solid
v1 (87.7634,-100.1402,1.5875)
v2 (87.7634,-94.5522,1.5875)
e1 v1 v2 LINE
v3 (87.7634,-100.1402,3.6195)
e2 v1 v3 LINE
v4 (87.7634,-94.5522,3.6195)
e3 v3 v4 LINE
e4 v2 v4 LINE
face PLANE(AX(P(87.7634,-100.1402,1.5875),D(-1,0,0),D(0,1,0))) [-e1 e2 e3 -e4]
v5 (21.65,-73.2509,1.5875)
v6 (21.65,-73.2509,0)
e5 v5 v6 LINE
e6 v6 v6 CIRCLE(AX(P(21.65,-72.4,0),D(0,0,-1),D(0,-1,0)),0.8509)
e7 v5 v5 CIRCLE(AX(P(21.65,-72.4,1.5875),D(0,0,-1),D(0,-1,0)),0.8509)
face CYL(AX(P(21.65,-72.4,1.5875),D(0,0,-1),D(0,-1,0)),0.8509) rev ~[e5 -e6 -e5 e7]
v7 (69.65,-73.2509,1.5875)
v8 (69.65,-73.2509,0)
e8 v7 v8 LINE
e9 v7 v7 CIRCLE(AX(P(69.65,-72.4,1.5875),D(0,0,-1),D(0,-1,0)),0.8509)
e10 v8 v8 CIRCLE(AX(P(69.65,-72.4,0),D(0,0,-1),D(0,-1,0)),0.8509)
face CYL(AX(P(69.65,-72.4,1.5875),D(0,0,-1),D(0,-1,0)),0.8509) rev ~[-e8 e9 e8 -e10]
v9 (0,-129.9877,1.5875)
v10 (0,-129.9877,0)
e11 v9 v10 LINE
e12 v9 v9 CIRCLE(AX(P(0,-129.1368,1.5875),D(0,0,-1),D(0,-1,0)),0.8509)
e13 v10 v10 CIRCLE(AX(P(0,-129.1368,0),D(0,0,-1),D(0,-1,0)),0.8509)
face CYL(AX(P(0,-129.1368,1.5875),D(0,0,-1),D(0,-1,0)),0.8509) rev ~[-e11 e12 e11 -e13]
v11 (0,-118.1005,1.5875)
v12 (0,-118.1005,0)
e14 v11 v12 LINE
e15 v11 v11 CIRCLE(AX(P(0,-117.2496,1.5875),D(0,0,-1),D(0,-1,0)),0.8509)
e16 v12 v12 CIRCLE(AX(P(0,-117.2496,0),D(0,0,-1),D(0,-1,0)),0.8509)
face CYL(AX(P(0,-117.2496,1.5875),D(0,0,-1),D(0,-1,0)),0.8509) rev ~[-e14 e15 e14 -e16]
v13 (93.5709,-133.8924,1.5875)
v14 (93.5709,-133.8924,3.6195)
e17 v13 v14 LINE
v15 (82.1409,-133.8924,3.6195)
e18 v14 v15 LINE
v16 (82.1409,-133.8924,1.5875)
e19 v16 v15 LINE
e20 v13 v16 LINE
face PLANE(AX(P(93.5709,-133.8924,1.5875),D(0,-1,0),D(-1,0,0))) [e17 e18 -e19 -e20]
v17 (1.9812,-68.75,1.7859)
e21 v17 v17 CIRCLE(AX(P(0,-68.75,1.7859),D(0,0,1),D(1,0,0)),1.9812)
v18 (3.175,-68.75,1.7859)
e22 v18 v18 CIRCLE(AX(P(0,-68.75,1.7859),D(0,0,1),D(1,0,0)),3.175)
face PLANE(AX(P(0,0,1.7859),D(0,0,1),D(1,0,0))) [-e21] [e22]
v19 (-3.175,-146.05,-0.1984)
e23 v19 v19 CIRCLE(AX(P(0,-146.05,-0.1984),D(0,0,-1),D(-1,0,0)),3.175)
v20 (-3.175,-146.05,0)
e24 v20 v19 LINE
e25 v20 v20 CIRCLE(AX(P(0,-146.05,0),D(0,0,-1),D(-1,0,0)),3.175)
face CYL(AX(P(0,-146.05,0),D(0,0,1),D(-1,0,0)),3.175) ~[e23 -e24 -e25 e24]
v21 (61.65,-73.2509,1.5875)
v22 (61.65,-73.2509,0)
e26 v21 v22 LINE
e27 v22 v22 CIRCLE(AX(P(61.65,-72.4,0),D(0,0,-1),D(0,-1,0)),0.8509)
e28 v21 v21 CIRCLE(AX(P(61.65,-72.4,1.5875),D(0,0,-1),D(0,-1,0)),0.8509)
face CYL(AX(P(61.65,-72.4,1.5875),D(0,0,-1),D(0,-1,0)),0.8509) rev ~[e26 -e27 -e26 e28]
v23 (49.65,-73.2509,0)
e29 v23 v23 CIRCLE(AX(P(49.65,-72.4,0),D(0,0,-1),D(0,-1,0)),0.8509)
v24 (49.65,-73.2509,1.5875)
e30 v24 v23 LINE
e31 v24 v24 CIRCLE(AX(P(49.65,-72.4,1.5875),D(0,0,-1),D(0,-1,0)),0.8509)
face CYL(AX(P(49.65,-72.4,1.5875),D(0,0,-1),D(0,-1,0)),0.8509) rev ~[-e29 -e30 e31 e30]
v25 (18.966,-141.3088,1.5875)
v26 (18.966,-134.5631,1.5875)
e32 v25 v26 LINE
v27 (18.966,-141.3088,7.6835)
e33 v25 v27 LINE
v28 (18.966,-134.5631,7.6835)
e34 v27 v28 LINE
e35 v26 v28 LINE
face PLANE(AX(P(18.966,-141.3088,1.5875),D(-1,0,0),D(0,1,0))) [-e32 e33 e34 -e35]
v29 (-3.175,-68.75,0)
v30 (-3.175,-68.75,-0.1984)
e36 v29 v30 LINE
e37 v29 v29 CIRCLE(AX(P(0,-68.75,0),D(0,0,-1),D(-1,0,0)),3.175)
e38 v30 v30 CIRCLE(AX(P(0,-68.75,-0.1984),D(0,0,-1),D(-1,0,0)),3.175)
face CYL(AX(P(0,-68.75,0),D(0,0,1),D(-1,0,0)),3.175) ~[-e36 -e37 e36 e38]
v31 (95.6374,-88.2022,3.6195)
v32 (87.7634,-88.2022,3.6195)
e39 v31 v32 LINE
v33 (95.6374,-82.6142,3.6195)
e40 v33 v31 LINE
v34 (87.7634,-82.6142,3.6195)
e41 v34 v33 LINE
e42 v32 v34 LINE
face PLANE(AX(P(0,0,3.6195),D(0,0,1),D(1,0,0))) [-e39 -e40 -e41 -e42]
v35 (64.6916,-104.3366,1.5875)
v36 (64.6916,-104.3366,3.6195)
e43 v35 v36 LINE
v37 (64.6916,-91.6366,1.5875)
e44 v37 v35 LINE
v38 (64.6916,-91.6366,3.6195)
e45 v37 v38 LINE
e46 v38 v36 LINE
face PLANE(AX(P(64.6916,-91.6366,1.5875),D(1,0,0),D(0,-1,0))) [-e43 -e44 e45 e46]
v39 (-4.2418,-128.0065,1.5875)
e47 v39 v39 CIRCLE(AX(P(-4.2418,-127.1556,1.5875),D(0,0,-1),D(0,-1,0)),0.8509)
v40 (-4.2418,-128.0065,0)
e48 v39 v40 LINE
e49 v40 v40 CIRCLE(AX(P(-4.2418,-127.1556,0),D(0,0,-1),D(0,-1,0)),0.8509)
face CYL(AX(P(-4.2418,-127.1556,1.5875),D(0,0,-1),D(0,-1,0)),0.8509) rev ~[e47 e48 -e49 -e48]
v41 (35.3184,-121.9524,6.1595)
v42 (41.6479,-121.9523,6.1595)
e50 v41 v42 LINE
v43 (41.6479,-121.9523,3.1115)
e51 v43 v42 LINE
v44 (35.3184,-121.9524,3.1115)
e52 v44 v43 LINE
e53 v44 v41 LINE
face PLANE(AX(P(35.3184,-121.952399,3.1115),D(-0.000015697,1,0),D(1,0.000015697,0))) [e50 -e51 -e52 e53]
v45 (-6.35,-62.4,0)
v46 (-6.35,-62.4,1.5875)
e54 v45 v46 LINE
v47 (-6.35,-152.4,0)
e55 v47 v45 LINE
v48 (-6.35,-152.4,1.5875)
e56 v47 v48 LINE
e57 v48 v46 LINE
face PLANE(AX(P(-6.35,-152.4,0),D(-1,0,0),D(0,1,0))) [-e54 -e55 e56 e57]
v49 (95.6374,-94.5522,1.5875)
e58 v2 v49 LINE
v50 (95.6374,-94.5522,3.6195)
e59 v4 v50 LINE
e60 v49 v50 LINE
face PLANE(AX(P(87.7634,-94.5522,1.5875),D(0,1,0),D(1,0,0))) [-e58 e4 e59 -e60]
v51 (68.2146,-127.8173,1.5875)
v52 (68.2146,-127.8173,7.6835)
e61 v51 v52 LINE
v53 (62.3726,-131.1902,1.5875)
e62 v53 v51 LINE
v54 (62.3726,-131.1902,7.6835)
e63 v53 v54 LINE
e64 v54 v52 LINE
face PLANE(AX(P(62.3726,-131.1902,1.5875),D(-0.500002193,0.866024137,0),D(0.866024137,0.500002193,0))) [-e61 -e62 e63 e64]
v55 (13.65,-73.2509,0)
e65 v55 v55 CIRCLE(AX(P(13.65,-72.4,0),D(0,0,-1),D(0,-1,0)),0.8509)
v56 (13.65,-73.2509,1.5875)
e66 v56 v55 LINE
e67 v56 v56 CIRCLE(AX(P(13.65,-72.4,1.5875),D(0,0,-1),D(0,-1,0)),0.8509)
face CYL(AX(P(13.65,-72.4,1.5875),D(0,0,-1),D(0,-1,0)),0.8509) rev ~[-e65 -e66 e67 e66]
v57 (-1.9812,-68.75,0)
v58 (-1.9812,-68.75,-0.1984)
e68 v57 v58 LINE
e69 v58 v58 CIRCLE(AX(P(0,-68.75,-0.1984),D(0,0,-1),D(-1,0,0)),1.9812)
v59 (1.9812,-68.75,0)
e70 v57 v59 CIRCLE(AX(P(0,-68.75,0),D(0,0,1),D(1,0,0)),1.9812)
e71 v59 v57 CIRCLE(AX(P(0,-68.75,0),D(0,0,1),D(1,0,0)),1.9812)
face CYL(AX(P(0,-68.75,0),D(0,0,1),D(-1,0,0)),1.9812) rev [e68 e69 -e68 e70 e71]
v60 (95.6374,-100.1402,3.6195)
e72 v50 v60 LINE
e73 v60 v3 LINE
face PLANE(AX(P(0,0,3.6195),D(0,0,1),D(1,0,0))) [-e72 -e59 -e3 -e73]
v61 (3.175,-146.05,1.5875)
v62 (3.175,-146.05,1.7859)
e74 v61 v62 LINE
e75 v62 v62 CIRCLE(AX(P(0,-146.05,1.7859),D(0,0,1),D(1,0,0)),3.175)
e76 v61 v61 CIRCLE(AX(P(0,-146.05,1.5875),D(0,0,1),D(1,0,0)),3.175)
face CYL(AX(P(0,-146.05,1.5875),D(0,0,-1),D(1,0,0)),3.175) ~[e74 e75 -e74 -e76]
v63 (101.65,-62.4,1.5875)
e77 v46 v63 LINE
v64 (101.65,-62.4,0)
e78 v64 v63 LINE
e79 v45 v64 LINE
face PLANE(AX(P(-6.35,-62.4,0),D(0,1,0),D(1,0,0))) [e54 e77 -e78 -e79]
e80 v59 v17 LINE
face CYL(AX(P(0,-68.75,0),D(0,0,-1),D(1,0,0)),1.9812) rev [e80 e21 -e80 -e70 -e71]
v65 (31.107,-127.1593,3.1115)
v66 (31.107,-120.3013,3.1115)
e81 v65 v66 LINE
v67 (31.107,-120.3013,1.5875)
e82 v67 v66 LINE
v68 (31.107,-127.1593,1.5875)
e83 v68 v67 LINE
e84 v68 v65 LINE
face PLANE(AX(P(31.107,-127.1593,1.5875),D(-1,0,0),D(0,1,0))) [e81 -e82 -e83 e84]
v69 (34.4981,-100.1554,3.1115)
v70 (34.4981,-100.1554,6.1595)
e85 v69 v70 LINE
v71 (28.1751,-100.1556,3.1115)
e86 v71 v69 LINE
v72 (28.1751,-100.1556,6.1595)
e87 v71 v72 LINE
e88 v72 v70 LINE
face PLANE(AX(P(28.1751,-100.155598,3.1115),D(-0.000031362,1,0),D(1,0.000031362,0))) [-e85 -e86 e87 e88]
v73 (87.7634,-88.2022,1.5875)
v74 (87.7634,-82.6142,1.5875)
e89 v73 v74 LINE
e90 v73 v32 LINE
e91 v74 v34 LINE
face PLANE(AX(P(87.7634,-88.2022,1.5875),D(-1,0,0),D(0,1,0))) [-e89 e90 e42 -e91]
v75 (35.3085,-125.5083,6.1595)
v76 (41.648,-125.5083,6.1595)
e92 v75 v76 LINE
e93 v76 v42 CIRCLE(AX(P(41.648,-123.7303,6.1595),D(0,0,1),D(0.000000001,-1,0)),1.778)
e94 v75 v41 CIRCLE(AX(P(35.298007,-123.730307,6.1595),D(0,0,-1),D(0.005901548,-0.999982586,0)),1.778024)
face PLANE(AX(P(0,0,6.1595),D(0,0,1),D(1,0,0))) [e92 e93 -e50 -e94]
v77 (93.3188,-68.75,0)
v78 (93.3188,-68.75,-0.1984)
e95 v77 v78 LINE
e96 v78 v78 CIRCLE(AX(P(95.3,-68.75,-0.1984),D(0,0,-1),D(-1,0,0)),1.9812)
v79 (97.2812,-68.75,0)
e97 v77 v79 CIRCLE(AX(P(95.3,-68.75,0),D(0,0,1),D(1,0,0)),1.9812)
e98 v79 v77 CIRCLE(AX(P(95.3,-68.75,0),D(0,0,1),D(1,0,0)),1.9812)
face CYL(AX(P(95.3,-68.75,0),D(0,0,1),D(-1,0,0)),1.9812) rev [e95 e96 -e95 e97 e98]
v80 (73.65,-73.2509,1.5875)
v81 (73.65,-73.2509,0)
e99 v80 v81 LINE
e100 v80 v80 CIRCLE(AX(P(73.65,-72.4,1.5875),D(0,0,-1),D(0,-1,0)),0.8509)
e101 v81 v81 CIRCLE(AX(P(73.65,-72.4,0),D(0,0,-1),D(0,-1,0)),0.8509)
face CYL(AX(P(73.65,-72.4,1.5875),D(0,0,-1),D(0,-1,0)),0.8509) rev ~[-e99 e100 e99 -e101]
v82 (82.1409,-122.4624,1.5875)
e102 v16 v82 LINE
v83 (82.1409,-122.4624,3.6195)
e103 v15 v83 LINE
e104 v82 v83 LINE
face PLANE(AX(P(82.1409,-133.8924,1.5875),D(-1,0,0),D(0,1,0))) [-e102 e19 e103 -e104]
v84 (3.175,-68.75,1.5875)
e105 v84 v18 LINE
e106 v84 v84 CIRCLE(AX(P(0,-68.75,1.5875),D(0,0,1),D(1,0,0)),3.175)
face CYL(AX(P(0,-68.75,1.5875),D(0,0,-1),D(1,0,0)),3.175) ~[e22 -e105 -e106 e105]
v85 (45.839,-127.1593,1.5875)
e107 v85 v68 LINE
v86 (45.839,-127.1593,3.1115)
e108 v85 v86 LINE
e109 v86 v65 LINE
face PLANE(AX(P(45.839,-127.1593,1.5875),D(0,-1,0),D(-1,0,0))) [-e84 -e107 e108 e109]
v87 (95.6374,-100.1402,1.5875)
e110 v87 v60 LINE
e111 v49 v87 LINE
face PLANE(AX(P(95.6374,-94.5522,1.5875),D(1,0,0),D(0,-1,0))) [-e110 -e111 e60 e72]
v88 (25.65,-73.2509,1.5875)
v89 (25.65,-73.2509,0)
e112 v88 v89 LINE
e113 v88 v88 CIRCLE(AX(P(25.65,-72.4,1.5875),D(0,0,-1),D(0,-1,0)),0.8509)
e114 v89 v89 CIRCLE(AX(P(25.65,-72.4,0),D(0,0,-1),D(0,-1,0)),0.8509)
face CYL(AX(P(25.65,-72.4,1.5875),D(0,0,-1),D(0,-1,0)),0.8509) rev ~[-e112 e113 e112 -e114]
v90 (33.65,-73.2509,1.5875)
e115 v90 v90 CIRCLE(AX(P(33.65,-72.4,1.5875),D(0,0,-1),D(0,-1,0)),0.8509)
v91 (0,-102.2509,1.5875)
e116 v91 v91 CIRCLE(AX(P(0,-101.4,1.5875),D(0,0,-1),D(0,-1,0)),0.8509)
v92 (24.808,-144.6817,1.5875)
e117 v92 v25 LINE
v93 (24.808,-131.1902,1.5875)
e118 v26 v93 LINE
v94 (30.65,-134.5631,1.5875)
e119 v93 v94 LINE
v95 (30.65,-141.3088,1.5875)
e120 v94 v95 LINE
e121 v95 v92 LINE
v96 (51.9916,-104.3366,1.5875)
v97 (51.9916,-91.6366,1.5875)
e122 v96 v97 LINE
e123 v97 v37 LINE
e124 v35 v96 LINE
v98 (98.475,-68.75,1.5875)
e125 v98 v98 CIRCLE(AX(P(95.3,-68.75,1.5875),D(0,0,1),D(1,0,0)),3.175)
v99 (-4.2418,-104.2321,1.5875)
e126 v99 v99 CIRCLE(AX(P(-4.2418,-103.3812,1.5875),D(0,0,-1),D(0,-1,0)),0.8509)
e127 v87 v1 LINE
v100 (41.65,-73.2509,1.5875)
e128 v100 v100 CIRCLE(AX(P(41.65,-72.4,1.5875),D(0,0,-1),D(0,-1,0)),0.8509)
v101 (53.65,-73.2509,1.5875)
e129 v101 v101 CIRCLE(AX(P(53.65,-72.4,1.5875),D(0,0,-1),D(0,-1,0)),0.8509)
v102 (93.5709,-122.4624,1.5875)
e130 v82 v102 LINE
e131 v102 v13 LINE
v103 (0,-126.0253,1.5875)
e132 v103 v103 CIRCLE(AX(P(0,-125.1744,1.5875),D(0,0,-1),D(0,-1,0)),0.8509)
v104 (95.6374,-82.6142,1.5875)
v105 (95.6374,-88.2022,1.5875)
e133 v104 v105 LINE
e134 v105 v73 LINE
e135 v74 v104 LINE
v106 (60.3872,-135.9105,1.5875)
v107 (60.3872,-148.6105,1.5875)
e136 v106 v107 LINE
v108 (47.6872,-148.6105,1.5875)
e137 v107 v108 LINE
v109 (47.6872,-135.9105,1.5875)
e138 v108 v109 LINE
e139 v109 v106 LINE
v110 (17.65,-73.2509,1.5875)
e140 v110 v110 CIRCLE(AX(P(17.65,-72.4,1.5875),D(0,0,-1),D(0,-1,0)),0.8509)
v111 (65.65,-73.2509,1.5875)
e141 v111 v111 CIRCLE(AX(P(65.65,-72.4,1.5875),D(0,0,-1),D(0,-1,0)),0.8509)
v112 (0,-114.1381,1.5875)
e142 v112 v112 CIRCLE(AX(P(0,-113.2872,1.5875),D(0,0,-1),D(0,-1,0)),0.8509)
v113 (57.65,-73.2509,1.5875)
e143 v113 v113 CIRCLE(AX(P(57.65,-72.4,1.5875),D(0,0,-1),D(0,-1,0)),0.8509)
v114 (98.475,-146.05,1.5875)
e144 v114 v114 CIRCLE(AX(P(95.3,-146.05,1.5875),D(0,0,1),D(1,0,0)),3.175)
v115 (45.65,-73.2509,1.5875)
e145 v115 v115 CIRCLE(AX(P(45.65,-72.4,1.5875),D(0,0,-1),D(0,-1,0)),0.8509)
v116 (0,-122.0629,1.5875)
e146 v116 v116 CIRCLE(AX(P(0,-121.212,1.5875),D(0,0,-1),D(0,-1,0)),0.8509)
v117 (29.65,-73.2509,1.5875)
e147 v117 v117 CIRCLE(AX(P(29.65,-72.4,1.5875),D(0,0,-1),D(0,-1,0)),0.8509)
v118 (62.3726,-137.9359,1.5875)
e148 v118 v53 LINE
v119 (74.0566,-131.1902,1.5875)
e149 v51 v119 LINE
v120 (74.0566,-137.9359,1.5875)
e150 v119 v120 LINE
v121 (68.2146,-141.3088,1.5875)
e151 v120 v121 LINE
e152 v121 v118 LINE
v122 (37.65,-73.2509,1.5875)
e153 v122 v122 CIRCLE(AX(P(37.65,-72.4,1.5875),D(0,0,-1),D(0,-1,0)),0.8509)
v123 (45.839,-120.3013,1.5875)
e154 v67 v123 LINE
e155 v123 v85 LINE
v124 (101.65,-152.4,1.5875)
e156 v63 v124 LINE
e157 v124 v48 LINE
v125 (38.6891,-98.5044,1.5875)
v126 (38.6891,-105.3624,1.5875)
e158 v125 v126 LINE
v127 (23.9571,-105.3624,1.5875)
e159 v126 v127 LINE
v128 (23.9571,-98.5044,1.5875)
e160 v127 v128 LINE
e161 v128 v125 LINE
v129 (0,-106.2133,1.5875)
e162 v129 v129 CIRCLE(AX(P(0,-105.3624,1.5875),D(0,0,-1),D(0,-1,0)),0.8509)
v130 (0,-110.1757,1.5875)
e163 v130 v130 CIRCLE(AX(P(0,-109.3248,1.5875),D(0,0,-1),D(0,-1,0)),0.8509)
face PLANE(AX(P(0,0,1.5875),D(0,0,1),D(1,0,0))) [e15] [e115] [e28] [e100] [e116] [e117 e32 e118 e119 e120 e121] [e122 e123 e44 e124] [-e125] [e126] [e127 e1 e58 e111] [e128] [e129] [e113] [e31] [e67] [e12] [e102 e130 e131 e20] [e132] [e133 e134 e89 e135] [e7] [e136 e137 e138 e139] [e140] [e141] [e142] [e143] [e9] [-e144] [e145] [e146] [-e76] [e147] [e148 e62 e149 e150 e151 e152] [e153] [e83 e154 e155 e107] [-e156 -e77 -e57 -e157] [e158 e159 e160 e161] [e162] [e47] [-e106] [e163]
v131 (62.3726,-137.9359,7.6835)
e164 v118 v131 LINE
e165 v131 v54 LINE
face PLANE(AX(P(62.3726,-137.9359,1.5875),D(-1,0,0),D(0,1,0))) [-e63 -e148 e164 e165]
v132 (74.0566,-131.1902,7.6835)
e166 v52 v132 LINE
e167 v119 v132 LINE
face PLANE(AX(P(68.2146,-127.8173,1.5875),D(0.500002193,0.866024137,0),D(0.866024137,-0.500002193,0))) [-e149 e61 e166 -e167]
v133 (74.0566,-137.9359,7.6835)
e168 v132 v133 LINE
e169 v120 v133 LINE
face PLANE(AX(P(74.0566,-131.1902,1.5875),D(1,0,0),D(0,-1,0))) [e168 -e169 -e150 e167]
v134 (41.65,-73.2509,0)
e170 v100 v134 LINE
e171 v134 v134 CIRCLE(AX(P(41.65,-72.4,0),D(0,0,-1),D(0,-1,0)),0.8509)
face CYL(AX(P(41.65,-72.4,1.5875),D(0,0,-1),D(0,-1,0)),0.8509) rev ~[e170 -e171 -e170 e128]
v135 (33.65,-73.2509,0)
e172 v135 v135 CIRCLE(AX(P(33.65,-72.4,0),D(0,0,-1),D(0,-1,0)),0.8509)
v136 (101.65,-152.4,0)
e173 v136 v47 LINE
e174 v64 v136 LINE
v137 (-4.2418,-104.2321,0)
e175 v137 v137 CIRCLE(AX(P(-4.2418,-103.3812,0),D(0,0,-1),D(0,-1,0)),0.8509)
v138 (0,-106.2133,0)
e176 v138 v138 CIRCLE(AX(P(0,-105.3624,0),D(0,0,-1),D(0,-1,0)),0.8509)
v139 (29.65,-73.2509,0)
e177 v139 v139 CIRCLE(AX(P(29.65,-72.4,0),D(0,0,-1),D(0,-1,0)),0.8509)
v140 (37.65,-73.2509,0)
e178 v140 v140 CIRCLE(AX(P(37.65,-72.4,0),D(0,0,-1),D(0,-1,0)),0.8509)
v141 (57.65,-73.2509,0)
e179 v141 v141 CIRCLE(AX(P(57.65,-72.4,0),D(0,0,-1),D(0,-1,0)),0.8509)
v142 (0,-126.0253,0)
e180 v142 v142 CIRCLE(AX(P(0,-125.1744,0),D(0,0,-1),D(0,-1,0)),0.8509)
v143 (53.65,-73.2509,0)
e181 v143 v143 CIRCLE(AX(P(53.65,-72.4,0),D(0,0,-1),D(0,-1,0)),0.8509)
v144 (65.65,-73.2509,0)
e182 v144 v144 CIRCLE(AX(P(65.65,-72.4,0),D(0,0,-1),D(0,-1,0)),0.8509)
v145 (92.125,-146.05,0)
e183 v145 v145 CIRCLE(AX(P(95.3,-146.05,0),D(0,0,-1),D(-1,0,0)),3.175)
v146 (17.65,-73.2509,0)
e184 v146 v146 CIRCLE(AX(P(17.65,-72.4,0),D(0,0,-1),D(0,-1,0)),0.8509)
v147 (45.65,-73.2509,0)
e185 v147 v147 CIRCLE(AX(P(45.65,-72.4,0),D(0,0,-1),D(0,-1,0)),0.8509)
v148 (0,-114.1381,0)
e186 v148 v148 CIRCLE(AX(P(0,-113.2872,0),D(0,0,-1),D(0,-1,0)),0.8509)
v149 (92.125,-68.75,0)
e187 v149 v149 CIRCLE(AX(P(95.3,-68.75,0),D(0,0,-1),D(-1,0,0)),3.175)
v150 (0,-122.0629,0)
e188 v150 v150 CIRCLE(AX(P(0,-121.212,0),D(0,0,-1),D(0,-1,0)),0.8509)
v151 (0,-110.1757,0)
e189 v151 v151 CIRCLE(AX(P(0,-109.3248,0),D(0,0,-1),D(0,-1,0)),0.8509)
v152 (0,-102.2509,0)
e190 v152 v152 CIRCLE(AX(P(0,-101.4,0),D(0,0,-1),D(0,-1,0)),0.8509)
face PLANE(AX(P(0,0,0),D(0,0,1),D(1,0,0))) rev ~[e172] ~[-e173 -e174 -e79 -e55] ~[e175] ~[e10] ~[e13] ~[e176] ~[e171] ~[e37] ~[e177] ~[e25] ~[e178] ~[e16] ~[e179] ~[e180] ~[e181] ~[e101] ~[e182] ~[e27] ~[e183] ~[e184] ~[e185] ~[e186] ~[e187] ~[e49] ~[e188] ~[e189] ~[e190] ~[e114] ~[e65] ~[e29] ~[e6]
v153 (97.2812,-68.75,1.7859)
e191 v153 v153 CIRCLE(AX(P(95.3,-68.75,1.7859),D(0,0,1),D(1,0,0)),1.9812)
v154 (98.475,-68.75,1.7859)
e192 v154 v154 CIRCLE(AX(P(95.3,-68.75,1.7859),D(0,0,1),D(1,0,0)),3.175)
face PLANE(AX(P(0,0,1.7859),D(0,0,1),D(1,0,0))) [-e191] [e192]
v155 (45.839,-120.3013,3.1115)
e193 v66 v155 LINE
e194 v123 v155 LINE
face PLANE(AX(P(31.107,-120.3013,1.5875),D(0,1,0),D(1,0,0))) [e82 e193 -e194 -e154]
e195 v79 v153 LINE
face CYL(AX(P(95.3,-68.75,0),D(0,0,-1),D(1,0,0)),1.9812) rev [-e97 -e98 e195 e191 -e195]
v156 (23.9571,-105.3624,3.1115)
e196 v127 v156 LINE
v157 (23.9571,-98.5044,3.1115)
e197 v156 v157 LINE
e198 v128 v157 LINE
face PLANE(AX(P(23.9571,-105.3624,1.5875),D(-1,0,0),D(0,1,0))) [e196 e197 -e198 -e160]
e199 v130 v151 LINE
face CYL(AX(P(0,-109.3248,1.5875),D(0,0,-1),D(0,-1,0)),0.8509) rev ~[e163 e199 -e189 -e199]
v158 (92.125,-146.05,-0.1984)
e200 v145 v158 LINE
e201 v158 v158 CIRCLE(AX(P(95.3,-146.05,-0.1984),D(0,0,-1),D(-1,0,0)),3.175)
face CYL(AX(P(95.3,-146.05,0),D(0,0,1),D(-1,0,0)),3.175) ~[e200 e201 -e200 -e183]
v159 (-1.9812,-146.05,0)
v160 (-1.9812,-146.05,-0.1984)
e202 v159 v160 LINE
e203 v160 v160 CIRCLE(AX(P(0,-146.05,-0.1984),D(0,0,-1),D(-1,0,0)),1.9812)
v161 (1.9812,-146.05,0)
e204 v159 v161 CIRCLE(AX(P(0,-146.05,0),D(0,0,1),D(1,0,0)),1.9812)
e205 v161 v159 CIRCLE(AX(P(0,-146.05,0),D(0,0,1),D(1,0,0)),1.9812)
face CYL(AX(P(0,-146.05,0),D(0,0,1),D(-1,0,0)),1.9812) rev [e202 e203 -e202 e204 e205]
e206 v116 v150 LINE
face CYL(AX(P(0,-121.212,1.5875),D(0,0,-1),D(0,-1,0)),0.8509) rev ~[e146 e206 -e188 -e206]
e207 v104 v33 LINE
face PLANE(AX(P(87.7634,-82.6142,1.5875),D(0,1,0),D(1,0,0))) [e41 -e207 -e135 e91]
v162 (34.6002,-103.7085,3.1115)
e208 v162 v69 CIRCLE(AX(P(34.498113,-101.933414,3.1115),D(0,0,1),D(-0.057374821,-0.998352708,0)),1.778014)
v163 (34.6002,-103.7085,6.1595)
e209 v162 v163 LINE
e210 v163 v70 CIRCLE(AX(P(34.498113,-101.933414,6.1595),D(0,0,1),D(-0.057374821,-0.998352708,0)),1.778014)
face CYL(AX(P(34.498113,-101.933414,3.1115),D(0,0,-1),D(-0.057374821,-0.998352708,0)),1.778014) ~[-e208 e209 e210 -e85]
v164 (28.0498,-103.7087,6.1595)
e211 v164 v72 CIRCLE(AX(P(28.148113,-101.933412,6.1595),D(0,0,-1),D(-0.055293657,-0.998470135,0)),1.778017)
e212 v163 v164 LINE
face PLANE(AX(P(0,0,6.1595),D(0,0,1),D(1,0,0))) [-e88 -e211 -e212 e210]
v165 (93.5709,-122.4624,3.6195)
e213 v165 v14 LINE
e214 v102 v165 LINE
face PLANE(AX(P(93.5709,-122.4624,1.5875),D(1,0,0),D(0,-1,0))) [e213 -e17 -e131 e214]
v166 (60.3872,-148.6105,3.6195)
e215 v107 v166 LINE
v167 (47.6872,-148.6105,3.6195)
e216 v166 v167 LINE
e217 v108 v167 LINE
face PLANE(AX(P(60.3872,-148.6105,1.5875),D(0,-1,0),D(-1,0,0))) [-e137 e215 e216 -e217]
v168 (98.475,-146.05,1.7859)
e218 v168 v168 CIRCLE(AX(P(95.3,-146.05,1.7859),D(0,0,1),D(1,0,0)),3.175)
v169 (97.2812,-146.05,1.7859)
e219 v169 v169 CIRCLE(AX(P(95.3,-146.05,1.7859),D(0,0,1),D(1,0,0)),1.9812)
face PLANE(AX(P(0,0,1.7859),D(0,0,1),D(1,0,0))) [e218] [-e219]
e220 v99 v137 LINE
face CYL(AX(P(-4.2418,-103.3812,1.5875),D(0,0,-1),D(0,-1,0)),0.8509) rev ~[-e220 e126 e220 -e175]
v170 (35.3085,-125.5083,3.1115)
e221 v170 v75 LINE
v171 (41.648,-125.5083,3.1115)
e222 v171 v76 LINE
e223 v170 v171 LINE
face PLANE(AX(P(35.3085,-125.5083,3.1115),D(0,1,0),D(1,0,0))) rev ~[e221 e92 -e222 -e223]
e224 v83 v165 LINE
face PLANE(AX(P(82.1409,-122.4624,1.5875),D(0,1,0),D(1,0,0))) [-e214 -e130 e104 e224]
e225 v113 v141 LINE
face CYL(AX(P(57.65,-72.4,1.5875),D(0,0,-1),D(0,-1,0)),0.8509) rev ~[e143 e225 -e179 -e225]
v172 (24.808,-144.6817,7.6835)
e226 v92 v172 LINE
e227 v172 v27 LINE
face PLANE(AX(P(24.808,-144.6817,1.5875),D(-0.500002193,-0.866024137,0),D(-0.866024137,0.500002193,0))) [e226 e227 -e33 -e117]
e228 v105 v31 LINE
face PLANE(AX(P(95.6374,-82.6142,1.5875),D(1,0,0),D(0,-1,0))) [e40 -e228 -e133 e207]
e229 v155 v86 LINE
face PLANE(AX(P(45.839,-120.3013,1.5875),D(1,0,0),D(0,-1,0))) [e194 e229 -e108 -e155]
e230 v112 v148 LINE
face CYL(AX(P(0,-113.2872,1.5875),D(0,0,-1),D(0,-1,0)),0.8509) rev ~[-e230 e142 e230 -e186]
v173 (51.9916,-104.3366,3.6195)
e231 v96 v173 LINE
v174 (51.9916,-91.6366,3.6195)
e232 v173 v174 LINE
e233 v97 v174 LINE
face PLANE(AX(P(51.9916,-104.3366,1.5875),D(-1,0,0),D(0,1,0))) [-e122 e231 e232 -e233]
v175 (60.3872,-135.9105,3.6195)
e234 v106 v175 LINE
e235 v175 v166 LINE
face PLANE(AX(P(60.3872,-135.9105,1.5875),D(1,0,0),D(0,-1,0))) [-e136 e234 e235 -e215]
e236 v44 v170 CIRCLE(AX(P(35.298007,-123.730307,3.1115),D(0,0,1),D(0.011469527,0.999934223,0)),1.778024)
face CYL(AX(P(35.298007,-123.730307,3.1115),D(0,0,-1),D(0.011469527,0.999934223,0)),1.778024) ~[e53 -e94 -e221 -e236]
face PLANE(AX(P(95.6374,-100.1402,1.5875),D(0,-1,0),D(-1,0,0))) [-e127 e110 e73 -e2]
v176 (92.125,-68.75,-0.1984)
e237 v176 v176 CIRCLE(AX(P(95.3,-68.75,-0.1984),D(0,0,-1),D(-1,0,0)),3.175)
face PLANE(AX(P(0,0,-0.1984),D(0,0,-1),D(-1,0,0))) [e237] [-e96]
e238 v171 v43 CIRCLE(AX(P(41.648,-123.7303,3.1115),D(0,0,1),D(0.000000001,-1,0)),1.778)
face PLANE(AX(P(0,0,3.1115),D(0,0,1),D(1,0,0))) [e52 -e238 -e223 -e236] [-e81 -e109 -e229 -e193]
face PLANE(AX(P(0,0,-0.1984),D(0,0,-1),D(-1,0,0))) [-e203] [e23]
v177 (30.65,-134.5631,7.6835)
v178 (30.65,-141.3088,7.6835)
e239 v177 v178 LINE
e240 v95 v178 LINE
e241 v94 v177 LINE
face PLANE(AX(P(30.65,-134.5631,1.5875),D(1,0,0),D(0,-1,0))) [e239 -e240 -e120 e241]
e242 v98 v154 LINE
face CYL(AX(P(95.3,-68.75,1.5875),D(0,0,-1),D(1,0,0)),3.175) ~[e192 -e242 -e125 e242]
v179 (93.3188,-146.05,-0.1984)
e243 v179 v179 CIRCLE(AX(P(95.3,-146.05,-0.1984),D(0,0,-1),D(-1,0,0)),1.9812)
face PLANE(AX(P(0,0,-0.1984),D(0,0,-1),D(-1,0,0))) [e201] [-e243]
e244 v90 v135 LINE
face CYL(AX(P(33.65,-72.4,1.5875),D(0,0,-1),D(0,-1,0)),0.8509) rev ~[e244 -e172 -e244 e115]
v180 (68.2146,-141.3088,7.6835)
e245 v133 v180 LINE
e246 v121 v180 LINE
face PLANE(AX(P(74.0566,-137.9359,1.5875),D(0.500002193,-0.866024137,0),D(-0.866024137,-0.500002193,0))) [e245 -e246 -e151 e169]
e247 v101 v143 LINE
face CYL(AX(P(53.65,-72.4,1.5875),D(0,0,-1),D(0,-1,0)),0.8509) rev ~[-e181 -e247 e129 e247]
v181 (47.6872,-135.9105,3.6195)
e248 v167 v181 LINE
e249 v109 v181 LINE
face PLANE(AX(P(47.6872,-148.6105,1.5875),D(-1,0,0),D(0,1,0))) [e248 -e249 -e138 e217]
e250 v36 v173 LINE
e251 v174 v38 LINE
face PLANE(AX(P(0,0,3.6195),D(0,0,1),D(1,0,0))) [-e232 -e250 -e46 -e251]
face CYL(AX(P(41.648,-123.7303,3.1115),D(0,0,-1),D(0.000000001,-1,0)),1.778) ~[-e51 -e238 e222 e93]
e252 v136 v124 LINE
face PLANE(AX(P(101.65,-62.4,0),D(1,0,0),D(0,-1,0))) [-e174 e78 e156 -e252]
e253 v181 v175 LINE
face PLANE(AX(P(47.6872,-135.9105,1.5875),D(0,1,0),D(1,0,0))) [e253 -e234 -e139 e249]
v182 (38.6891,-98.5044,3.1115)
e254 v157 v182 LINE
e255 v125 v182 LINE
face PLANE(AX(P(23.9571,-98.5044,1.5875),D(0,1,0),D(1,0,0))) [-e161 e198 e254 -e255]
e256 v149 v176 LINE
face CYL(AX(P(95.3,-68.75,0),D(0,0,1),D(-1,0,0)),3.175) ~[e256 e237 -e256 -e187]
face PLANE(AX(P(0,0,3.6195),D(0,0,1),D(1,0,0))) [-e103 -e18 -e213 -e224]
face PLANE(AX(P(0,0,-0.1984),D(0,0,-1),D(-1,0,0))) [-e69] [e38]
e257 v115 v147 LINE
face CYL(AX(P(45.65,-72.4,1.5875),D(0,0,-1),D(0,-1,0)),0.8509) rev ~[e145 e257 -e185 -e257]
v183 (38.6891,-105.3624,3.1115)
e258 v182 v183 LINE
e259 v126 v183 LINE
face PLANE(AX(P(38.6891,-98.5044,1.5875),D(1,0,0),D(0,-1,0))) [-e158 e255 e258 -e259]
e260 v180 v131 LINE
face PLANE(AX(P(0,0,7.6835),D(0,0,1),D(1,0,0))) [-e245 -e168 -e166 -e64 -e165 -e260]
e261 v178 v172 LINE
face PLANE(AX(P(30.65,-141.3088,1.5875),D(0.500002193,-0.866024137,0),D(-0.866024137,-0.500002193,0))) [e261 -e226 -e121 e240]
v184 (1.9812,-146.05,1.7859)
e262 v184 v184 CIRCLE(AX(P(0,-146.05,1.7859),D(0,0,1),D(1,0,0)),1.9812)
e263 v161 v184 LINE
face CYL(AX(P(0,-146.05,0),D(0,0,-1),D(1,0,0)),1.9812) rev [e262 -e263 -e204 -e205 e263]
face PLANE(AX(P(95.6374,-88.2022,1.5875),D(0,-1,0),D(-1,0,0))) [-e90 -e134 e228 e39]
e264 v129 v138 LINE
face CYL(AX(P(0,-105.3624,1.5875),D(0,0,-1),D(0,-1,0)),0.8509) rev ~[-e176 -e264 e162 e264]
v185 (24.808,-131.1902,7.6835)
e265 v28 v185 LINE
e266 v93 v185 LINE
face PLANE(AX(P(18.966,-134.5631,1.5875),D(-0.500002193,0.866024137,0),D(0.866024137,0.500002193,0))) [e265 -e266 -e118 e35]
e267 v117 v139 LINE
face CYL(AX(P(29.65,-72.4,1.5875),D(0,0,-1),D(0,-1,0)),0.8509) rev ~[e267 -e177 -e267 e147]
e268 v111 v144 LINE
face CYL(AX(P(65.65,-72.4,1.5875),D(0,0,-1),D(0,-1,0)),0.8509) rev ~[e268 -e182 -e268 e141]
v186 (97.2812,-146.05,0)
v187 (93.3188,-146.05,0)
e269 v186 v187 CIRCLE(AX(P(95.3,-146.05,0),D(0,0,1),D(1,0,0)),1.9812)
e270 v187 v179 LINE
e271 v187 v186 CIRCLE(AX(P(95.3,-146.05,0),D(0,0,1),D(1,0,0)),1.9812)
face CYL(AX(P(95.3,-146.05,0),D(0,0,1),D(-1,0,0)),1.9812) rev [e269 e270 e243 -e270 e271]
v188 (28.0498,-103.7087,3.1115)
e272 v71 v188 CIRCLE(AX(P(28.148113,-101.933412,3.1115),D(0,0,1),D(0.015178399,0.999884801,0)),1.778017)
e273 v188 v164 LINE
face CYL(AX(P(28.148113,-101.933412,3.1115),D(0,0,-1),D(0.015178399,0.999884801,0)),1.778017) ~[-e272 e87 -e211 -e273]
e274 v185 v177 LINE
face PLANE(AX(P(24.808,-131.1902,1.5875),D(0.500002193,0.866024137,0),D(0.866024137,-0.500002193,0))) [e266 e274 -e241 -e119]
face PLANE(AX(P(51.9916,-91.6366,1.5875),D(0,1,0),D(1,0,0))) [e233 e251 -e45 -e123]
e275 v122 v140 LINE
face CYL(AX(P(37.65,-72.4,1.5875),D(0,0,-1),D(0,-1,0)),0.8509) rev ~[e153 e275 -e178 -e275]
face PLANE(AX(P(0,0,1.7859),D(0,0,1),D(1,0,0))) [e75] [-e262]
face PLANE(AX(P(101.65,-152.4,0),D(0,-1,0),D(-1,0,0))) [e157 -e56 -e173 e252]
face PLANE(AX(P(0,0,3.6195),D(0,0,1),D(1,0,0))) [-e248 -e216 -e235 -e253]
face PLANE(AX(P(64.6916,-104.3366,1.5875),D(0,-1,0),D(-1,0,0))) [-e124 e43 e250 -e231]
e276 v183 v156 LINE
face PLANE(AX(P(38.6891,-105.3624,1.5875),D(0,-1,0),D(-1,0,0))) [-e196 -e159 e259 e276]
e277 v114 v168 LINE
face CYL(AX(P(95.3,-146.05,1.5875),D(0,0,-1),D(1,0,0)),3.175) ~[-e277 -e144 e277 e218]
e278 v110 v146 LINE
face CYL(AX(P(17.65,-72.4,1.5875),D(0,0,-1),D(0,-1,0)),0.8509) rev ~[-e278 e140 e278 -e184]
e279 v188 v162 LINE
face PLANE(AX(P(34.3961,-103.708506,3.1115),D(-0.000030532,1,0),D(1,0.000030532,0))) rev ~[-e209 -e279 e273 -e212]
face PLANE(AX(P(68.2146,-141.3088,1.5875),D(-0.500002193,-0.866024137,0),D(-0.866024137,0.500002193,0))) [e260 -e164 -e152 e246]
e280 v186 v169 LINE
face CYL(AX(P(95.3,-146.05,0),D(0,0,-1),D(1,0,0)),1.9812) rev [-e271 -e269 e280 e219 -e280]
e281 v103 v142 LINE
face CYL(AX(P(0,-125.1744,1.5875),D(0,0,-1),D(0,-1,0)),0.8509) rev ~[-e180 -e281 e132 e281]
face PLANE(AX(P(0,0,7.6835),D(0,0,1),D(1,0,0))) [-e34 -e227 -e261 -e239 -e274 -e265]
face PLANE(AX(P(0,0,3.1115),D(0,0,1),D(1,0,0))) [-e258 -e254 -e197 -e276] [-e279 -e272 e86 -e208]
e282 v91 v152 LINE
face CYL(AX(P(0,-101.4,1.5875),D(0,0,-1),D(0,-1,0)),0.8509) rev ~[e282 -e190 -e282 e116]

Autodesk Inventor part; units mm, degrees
ref_plane "YZ Plane" through (0, 0, 0) normal (1, 0, 0) x (0, 1, 0)
ref_plane "XZ Plane" through (0, 0, 0) normal (0, 1, 0) x (-1, 0, 0)
ref_plane "XY Plane" through (0, 0, 0) normal (0, 0, 1) x (1, 0, 0)
sketch "Sketch1" plane through (0, 0, 0) normal (0, 0, 1) x (1, 0, 0)
  line L0 (-6.35, -62.4) -> (101.65, -62.4)
  line L1 (101.65, -62.4) -> (101.65, -152.4)
  line L2 (101.65, -152.4) -> (-6.35, -152.4)
  line L3 (-6.35, -152.4) -> (-6.35, -62.4)
  line L4 (0, -68.75) -> (95.3, -68.75) construction
  line L5 (95.3, -68.75) -> (95.3, -146.05) construction
  line L6 (95.3, -146.05) -> (0, -146.05) construction
  line L7 (0, -146.05) -> (0, -68.75) construction
  circle A0 centre (0, -146.05) radius 1.9812
  circle A1 centre (95.3, -146.05) radius 1.9812
  circle A2 centre (95.3, -68.75) radius 1.9812
  circle A3 centre (0, -68.75) radius 1.9812
  point P0 (47.65, -152.4)
  point P1 (47.65, -146.05)
  point P2 (-6.35, -107.4)
  point P3 (0, -107.4)
  dimension "d0" = 6.35
  dimension "d1" = 6.35
  dimension "d2" = 3.9624
  dimension "d84" = 90
  dimension "d85" = 108
extrude "Extrusion1" add sketch "Sketch1" along normal blind 1.5875
sketch "Sketch2" plane through (0, 0, 1.5875) normal (0, 0, 1) x (1, 0, 0)
  circle A0 centre (0, -68.75) radius 1.9812 projected
  circle A1 centre (95.3, -68.75) radius 1.9812 projected
  circle A2 centre (95.3, -146.05) radius 1.9812 projected
  circle A3 centre (0, -146.05) radius 1.9812 projected
  line L0 (101.65, -62.4) -> (101.65, -152.4) projected
  line L1 (-6.35, -62.4) -> (101.65, -62.4) projected
  line L2 (-6.35, -152.4) -> (-6.35, -62.4) projected
  line L3 (101.65, -152.4) -> (-6.35, -152.4) projected
  circle A4 centre (0, -68.75) radius 3.175
  circle A5 centre (95.3, -68.75) radius 3.175
  circle A6 centre (95.3, -146.05) radius 3.175
  circle A7 centre (0, -146.05) radius 3.175
  dimension "d5" = 6.35
extrude "Extrusion2" add sketch "Sketch2" along normal blind 0.1984 contours A4 | A5 | A6 | A7
sketch "Sketch3" plane through (0, 0, 0) normal (0, 0, -1) x (-1, 0, 0)
  circle A0 centre (0, -68.75) radius 1.9812 projected
  circle A1 centre (-95.3, -68.75) radius 1.9812 projected
  circle A2 centre (-95.3, -146.05) radius 1.9812 projected
  circle A3 centre (0, -146.05) radius 1.9812 projected
  line L0 (6.35, -62.4) -> (-101.65, -62.4) projected
  line L1 (-101.65, -62.4) -> (-101.65, -152.4) projected
  line L2 (-101.65, -152.4) -> (6.35, -152.4) projected
  line L3 (6.35, -152.4) -> (6.35, -62.4) projected
  circle A4 centre (0, -68.75) radius 3.175
  circle A5 centre (-95.3, -68.75) radius 3.175
  circle A6 centre (-95.3, -146.05) radius 3.175
  circle A7 centre (0, -146.05) radius 3.175
  dimension "d8" = 6.35
extrude "Extrusion3" add sketch "Sketch3" along normal blind 0.1984 contours A4 | A5 | A6 | A7
sketch "Sketch4" plane through (0, 0, 1.5875) normal (0, 0, 1) x (1, 0, 0)
  circle A0 centre (95.3, -146.05) radius 3.175 projected
  circle A1 centre (0, -68.75) radius 3.175 projected
  circle A2 centre (95.3, -68.75) radius 3.175 projected
  circle A3 centre (0, -146.05) radius 3.175 projected
  line L0 (101.65, -62.4) -> (101.65, -152.4) projected
  line L1 (-6.35, -62.4) -> (101.65, -62.4) projected
  line L2 (-6.35, -152.4) -> (-6.35, -62.4) projected
  line L3 (101.65, -152.4) -> (-6.35, -152.4) projected
  circle A4 centre (0, -101.4) radius 1.6433
  circle A5 centre (0, -105.3624) radius 1.6433
  circle A6 centre (0, -109.3248) radius 1.6433
  circle A7 centre (0, -113.2872) radius 1.6433
  circle A8 centre (0, -117.2496) radius 1.6433
  circle A9 centre (0, -121.212) radius 1.6433
  circle A10 centre (0, -125.1744) radius 1.6433
  circle A11 centre (0, -129.1368) radius 1.6433
  circle A12 centre (-4.2418, -103.3812) radius 1.6433
  circle A13 centre (-4.2418, -127.1556) radius 1.6433
  line L4 (-6.35, -62.4) -> (101.65, -62.4) projected
  point P0 (13.65, -72.4)
  point P1 (17.65, -72.4)
  point P2 (21.65, -72.4)
  point P3 (25.65, -72.4)
  point P4 (29.65, -72.4)
  point P5 (33.65, -72.4)
  point P6 (37.65, -72.4)
  point P7 (41.65, -72.4)
  point P8 (45.65, -72.4)
  point P9 (49.65, -72.4)
  point P10 (53.65, -72.4)
  point P11 (57.65, -72.4)
  point P12 (61.65, -72.4)
  point P13 (65.65, -72.4)
  point P14 (69.65, -72.4)
  point P15 (73.65, -72.4)
  dimension "d22" = 3.9624
  dimension "d27" = 4.2418
  dimension "d28" = 1.9812
  dimension "d29" = 1.9812
  dimension "d30" = 4.2418
  dimension "d75" = 6.35
  dimension "d76" = 51
  dimension "d79" = 4
  dimension "d86" = 10
  dimension "d87" = 20
hole "Hole1" at (13.65, -72.4, 1.5875) at (0, -101.4, 1.5875) at (0, -105.3624, 1.5875) at (0, -109.3248, 1.5875) at (0, -113.2872, 1.5875) at (0, -117.2496, 1.5875) at (0, -121.212, 1.5875) at (0, -125.1744, 1.5875) at (0, -129.1368, 1.5875) at (-4.2418, -127.1556, 1.5875) at (-4.2418, -103.3812, 1.5875) at (73.65, -72.4, 1.5875) at (69.65, -72.4, 1.5875) at (65.65, -72.4, 1.5875) at (61.65, -72.4, 1.5875) at (57.65, -72.4, 1.5875) at (53.65, -72.4, 1.5875) at (49.65, -72.4, 1.5875) at (45.65, -72.4, 1.5875) at (37.65, -72.4, 1.5875) at (33.65, -72.4, 1.5875) at (29.65, -72.4, 1.5875) at (25.65, -72.4, 1.5875) at (21.65, -72.4, 1.5875) at (17.65, -72.4, 1.5875) at (41.65, -72.4, 1.5875) direction (0, 0, -1) diameter 1.7018 end through all
sketch "Sketch5" plane through (0, 0, 1.5875) normal (0, 0, 1) x (1, 0, 0)
  line L0 (51.9916, -91.6366) -> (64.6916, -91.6366)
  line L1 (64.6916, -91.6366) -> (64.6916, -104.3366)
  line L2 (64.6916, -104.3366) -> (51.9916, -104.3366)
  line L3 (51.9916, -104.3366) -> (51.9916, -91.6366)
  line L4 (30.3358, -18.3269) -> (55.7358, -18.3269)
  line L5 (55.7358, -18.3269) -> (55.7358, -43.7269)
  line L6 (55.7358, -43.7269) -> (30.3358, -43.7269)
  line L7 (30.3358, -43.7269) -> (30.3358, -18.3269)
  line L8 (47.6872, -135.9105) -> (60.3872, -135.9105)
  line L9 (60.3872, -135.9105) -> (60.3872, -148.6105)
  line L10 (60.3872, -148.6105) -> (47.6872, -148.6105)
  line L11 (47.6872, -148.6105) -> (47.6872, -135.9105)
  line L12 (82.1409, -122.4624) -> (93.5709, -122.4624)
  line L13 (93.5709, -122.4624) -> (93.5709, -133.8924)
  line L14 (93.5709, -133.8924) -> (82.1409, -133.8924)
  line L15 (82.1409, -133.8924) -> (82.1409, -122.4624)
  line L16 (87.7634, -29.3007) -> (95.6374, -29.3007)
  line L17 (95.6374, -29.3007) -> (95.6374, -34.8887)
  line L18 (95.6374, -34.8887) -> (87.7634, -34.8887)
  line L19 (87.7634, -34.8887) -> (87.7634, -29.3007)
  line L20 (87.7634, -41.2387) -> (95.6374, -41.2387)
  line L21 (95.6374, -41.2387) -> (95.6374, -46.8267)
  line L22 (95.6374, -46.8267) -> (87.7634, -46.8267)
  line L23 (87.7634, -46.8267) -> (87.7634, -41.2387)
  line L24 (87.7634, -82.6142) -> (95.6374, -82.6142)
  line L25 (95.6374, -82.6142) -> (95.6374, -88.2022)
  line L26 (95.6374, -88.2022) -> (87.7634, -88.2022)
  line L27 (87.7634, -88.2022) -> (87.7634, -82.6142)
  line L28 (87.7634, -94.5522) -> (95.6374, -94.5522)
  line L29 (95.6374, -94.5522) -> (95.6374, -100.1402)
  line L30 (95.6374, -100.1402) -> (87.7634, -100.1402)
  line L31 (87.7634, -100.1402) -> (87.7634, -94.5522)
  dimension "d38" = 25.4
  dimension "d39" = 25.4
  dimension "d40" = 12.7
  dimension "d41" = 12.7
  dimension "d42" = 12.7
  dimension "d43" = 12.7
  dimension "d44" = 11.43
  dimension "d45" = 11.43
  dimension "d48" = 7.874
  dimension "d49" = 5.588
  dimension "d50" = 6.35
  dimension "d51" = 35.7875
  dimension "d52" = 6.35
extrude "Extrusion4" add sketch "Sketch5" along normal blind 2.032 contours L0 L1 L2 L3 | L8 L9 L10 L11 | L12 L13 L14 L15 | L24 L25 L26 L27 | L28 L29 L30 L31
sketch "Sketch6" plane through (0, 0, 1.5875) normal (0, 0, 1) x (1, 0, 0)
  line L0 (23.9571, -98.5044) -> (38.6891, -98.5044)
  line L1 (38.6891, -98.5044) -> (38.6891, -105.3624)
  line L2 (38.6891, -105.3624) -> (23.9571, -105.3624)
  line L3 (23.9571, -105.3624) -> (23.9571, -98.5044)
  line L4 (31.107, -120.3013) -> (45.839, -120.3013)
  line L5 (45.839, -120.3013) -> (45.839, -127.1593)
  line L6 (45.839, -127.1593) -> (31.107, -127.1593)
  line L7 (31.107, -127.1593) -> (31.107, -120.3013)
  dimension "d53" = 6.858
  dimension "d54" = 14.732
  dimension "d55" = 6.858
  dimension "d56" = 14.732
extrude "Extrusion5" add sketch "Sketch6" along normal blind 1.524
sketch "Sketch7" plane through (0, 0, 3.1115) normal (0, 0, 1) x (1, 0, 0)
  line L0 (23.9571, -98.5044) -> (38.6891, -98.5044) projected
  line L1 (23.9571, -105.3624) -> (23.9571, -98.5044) projected
  arc A0 (28.1751, -100.1556) -> (28.2466, -103.7087) centre (28.1481, -101.9334) ccw
  arc A1 (34.3961, -103.7085) -> (34.4981, -100.1554) centre (34.4981, -101.9334) ccw
  arc A2 (35.3184, -121.9524) -> (35.3085, -125.5083) centre (35.298, -123.7303) ccw
  arc A3 (41.648, -125.5083) -> (41.6479, -121.9523) centre (41.648, -123.7303) ccw
  line L2 (45.839, -120.3013) -> (45.839, -127.1593) projected
  line L3 (31.107, -120.3013) -> (45.839, -120.3013) projected
  line L4 (31.107, -127.1593) -> (31.107, -120.3013) projected
  line L5 (45.839, -127.1593) -> (31.107, -127.1593) projected
  line L6 (28.1481, -101.9334) -> (34.4981, -101.9334) construction
  line L7 (28.121, -100.1556) -> (34.4981, -100.1554)
  line L8 (28.0498, -103.7087) -> (34.6002, -103.7085)
  line L9 (35.298, -123.7303) -> (41.648, -123.7303) construction
  line L10 (31.107, -127.1593) -> (31.107, -120.3013) projected
  line L11 (35.2774, -121.9524) -> (41.6479, -121.9523)
  line L12 (35.2874, -125.5083) -> (41.648, -125.5083)
  point P0 (31.3231, -101.9334)
  point P1 (31.3231, -98.5044)
  point P2 (23.9571, -101.9334)
  point P3 (38.473, -123.7303)
  point P4 (31.107, -123.7303)
  point P5 (38.473, -120.3013)
  point P6 (31.107, -123.7303)
  point P7 (31.107, -123.7303)
  dimension "d59" = 3.556
  dimension "d60" = 6.35
  dimension "d61" = 6.35
extrude "Extrusion6" add sketch "Sketch7" along normal blind 3.048 contours L7 A1 L8 A0 | L11 A3 L12 A2
sketch "Sketch8" plane through (0, 0, 1.5875) normal (0, 0, 1) x (1, 0, 0)
  line L0 (101.65, -62.4) -> (101.65, -152.4) projected
  line L1 (68.2146, -141.3088) -> (62.3726, -137.9359)
  line L2 (62.3726, -137.9359) -> (62.3726, -131.1902)
  line L3 (62.3726, -131.1902) -> (68.2146, -127.8173)
  line L4 (68.2146, -127.8173) -> (74.0566, -131.1902)
  line L5 (74.0566, -131.1902) -> (74.0566, -137.9359)
  line L6 (74.0566, -137.9359) -> (68.2146, -141.3088)
  line L7 (24.808, -144.6817) -> (18.966, -141.3088)
  line L8 (18.966, -141.3088) -> (18.966, -134.5631)
  line L9 (18.966, -134.5631) -> (24.808, -131.1902)
  line L10 (24.808, -131.1902) -> (30.65, -134.5631)
  line L11 (30.65, -134.5631) -> (30.65, -141.3088)
  line L12 (30.65, -141.3088) -> (24.808, -144.6817)
  point P0 (68.2146, -134.5631)
  point P1 (24.808, -137.9359)
  dimension "d64" = 11.684
  dimension "d65" = 11.684
extrude "Extrusion7" add sketch "Sketch8" along normal blind 6.096
properties part number "CPU_PCB"
